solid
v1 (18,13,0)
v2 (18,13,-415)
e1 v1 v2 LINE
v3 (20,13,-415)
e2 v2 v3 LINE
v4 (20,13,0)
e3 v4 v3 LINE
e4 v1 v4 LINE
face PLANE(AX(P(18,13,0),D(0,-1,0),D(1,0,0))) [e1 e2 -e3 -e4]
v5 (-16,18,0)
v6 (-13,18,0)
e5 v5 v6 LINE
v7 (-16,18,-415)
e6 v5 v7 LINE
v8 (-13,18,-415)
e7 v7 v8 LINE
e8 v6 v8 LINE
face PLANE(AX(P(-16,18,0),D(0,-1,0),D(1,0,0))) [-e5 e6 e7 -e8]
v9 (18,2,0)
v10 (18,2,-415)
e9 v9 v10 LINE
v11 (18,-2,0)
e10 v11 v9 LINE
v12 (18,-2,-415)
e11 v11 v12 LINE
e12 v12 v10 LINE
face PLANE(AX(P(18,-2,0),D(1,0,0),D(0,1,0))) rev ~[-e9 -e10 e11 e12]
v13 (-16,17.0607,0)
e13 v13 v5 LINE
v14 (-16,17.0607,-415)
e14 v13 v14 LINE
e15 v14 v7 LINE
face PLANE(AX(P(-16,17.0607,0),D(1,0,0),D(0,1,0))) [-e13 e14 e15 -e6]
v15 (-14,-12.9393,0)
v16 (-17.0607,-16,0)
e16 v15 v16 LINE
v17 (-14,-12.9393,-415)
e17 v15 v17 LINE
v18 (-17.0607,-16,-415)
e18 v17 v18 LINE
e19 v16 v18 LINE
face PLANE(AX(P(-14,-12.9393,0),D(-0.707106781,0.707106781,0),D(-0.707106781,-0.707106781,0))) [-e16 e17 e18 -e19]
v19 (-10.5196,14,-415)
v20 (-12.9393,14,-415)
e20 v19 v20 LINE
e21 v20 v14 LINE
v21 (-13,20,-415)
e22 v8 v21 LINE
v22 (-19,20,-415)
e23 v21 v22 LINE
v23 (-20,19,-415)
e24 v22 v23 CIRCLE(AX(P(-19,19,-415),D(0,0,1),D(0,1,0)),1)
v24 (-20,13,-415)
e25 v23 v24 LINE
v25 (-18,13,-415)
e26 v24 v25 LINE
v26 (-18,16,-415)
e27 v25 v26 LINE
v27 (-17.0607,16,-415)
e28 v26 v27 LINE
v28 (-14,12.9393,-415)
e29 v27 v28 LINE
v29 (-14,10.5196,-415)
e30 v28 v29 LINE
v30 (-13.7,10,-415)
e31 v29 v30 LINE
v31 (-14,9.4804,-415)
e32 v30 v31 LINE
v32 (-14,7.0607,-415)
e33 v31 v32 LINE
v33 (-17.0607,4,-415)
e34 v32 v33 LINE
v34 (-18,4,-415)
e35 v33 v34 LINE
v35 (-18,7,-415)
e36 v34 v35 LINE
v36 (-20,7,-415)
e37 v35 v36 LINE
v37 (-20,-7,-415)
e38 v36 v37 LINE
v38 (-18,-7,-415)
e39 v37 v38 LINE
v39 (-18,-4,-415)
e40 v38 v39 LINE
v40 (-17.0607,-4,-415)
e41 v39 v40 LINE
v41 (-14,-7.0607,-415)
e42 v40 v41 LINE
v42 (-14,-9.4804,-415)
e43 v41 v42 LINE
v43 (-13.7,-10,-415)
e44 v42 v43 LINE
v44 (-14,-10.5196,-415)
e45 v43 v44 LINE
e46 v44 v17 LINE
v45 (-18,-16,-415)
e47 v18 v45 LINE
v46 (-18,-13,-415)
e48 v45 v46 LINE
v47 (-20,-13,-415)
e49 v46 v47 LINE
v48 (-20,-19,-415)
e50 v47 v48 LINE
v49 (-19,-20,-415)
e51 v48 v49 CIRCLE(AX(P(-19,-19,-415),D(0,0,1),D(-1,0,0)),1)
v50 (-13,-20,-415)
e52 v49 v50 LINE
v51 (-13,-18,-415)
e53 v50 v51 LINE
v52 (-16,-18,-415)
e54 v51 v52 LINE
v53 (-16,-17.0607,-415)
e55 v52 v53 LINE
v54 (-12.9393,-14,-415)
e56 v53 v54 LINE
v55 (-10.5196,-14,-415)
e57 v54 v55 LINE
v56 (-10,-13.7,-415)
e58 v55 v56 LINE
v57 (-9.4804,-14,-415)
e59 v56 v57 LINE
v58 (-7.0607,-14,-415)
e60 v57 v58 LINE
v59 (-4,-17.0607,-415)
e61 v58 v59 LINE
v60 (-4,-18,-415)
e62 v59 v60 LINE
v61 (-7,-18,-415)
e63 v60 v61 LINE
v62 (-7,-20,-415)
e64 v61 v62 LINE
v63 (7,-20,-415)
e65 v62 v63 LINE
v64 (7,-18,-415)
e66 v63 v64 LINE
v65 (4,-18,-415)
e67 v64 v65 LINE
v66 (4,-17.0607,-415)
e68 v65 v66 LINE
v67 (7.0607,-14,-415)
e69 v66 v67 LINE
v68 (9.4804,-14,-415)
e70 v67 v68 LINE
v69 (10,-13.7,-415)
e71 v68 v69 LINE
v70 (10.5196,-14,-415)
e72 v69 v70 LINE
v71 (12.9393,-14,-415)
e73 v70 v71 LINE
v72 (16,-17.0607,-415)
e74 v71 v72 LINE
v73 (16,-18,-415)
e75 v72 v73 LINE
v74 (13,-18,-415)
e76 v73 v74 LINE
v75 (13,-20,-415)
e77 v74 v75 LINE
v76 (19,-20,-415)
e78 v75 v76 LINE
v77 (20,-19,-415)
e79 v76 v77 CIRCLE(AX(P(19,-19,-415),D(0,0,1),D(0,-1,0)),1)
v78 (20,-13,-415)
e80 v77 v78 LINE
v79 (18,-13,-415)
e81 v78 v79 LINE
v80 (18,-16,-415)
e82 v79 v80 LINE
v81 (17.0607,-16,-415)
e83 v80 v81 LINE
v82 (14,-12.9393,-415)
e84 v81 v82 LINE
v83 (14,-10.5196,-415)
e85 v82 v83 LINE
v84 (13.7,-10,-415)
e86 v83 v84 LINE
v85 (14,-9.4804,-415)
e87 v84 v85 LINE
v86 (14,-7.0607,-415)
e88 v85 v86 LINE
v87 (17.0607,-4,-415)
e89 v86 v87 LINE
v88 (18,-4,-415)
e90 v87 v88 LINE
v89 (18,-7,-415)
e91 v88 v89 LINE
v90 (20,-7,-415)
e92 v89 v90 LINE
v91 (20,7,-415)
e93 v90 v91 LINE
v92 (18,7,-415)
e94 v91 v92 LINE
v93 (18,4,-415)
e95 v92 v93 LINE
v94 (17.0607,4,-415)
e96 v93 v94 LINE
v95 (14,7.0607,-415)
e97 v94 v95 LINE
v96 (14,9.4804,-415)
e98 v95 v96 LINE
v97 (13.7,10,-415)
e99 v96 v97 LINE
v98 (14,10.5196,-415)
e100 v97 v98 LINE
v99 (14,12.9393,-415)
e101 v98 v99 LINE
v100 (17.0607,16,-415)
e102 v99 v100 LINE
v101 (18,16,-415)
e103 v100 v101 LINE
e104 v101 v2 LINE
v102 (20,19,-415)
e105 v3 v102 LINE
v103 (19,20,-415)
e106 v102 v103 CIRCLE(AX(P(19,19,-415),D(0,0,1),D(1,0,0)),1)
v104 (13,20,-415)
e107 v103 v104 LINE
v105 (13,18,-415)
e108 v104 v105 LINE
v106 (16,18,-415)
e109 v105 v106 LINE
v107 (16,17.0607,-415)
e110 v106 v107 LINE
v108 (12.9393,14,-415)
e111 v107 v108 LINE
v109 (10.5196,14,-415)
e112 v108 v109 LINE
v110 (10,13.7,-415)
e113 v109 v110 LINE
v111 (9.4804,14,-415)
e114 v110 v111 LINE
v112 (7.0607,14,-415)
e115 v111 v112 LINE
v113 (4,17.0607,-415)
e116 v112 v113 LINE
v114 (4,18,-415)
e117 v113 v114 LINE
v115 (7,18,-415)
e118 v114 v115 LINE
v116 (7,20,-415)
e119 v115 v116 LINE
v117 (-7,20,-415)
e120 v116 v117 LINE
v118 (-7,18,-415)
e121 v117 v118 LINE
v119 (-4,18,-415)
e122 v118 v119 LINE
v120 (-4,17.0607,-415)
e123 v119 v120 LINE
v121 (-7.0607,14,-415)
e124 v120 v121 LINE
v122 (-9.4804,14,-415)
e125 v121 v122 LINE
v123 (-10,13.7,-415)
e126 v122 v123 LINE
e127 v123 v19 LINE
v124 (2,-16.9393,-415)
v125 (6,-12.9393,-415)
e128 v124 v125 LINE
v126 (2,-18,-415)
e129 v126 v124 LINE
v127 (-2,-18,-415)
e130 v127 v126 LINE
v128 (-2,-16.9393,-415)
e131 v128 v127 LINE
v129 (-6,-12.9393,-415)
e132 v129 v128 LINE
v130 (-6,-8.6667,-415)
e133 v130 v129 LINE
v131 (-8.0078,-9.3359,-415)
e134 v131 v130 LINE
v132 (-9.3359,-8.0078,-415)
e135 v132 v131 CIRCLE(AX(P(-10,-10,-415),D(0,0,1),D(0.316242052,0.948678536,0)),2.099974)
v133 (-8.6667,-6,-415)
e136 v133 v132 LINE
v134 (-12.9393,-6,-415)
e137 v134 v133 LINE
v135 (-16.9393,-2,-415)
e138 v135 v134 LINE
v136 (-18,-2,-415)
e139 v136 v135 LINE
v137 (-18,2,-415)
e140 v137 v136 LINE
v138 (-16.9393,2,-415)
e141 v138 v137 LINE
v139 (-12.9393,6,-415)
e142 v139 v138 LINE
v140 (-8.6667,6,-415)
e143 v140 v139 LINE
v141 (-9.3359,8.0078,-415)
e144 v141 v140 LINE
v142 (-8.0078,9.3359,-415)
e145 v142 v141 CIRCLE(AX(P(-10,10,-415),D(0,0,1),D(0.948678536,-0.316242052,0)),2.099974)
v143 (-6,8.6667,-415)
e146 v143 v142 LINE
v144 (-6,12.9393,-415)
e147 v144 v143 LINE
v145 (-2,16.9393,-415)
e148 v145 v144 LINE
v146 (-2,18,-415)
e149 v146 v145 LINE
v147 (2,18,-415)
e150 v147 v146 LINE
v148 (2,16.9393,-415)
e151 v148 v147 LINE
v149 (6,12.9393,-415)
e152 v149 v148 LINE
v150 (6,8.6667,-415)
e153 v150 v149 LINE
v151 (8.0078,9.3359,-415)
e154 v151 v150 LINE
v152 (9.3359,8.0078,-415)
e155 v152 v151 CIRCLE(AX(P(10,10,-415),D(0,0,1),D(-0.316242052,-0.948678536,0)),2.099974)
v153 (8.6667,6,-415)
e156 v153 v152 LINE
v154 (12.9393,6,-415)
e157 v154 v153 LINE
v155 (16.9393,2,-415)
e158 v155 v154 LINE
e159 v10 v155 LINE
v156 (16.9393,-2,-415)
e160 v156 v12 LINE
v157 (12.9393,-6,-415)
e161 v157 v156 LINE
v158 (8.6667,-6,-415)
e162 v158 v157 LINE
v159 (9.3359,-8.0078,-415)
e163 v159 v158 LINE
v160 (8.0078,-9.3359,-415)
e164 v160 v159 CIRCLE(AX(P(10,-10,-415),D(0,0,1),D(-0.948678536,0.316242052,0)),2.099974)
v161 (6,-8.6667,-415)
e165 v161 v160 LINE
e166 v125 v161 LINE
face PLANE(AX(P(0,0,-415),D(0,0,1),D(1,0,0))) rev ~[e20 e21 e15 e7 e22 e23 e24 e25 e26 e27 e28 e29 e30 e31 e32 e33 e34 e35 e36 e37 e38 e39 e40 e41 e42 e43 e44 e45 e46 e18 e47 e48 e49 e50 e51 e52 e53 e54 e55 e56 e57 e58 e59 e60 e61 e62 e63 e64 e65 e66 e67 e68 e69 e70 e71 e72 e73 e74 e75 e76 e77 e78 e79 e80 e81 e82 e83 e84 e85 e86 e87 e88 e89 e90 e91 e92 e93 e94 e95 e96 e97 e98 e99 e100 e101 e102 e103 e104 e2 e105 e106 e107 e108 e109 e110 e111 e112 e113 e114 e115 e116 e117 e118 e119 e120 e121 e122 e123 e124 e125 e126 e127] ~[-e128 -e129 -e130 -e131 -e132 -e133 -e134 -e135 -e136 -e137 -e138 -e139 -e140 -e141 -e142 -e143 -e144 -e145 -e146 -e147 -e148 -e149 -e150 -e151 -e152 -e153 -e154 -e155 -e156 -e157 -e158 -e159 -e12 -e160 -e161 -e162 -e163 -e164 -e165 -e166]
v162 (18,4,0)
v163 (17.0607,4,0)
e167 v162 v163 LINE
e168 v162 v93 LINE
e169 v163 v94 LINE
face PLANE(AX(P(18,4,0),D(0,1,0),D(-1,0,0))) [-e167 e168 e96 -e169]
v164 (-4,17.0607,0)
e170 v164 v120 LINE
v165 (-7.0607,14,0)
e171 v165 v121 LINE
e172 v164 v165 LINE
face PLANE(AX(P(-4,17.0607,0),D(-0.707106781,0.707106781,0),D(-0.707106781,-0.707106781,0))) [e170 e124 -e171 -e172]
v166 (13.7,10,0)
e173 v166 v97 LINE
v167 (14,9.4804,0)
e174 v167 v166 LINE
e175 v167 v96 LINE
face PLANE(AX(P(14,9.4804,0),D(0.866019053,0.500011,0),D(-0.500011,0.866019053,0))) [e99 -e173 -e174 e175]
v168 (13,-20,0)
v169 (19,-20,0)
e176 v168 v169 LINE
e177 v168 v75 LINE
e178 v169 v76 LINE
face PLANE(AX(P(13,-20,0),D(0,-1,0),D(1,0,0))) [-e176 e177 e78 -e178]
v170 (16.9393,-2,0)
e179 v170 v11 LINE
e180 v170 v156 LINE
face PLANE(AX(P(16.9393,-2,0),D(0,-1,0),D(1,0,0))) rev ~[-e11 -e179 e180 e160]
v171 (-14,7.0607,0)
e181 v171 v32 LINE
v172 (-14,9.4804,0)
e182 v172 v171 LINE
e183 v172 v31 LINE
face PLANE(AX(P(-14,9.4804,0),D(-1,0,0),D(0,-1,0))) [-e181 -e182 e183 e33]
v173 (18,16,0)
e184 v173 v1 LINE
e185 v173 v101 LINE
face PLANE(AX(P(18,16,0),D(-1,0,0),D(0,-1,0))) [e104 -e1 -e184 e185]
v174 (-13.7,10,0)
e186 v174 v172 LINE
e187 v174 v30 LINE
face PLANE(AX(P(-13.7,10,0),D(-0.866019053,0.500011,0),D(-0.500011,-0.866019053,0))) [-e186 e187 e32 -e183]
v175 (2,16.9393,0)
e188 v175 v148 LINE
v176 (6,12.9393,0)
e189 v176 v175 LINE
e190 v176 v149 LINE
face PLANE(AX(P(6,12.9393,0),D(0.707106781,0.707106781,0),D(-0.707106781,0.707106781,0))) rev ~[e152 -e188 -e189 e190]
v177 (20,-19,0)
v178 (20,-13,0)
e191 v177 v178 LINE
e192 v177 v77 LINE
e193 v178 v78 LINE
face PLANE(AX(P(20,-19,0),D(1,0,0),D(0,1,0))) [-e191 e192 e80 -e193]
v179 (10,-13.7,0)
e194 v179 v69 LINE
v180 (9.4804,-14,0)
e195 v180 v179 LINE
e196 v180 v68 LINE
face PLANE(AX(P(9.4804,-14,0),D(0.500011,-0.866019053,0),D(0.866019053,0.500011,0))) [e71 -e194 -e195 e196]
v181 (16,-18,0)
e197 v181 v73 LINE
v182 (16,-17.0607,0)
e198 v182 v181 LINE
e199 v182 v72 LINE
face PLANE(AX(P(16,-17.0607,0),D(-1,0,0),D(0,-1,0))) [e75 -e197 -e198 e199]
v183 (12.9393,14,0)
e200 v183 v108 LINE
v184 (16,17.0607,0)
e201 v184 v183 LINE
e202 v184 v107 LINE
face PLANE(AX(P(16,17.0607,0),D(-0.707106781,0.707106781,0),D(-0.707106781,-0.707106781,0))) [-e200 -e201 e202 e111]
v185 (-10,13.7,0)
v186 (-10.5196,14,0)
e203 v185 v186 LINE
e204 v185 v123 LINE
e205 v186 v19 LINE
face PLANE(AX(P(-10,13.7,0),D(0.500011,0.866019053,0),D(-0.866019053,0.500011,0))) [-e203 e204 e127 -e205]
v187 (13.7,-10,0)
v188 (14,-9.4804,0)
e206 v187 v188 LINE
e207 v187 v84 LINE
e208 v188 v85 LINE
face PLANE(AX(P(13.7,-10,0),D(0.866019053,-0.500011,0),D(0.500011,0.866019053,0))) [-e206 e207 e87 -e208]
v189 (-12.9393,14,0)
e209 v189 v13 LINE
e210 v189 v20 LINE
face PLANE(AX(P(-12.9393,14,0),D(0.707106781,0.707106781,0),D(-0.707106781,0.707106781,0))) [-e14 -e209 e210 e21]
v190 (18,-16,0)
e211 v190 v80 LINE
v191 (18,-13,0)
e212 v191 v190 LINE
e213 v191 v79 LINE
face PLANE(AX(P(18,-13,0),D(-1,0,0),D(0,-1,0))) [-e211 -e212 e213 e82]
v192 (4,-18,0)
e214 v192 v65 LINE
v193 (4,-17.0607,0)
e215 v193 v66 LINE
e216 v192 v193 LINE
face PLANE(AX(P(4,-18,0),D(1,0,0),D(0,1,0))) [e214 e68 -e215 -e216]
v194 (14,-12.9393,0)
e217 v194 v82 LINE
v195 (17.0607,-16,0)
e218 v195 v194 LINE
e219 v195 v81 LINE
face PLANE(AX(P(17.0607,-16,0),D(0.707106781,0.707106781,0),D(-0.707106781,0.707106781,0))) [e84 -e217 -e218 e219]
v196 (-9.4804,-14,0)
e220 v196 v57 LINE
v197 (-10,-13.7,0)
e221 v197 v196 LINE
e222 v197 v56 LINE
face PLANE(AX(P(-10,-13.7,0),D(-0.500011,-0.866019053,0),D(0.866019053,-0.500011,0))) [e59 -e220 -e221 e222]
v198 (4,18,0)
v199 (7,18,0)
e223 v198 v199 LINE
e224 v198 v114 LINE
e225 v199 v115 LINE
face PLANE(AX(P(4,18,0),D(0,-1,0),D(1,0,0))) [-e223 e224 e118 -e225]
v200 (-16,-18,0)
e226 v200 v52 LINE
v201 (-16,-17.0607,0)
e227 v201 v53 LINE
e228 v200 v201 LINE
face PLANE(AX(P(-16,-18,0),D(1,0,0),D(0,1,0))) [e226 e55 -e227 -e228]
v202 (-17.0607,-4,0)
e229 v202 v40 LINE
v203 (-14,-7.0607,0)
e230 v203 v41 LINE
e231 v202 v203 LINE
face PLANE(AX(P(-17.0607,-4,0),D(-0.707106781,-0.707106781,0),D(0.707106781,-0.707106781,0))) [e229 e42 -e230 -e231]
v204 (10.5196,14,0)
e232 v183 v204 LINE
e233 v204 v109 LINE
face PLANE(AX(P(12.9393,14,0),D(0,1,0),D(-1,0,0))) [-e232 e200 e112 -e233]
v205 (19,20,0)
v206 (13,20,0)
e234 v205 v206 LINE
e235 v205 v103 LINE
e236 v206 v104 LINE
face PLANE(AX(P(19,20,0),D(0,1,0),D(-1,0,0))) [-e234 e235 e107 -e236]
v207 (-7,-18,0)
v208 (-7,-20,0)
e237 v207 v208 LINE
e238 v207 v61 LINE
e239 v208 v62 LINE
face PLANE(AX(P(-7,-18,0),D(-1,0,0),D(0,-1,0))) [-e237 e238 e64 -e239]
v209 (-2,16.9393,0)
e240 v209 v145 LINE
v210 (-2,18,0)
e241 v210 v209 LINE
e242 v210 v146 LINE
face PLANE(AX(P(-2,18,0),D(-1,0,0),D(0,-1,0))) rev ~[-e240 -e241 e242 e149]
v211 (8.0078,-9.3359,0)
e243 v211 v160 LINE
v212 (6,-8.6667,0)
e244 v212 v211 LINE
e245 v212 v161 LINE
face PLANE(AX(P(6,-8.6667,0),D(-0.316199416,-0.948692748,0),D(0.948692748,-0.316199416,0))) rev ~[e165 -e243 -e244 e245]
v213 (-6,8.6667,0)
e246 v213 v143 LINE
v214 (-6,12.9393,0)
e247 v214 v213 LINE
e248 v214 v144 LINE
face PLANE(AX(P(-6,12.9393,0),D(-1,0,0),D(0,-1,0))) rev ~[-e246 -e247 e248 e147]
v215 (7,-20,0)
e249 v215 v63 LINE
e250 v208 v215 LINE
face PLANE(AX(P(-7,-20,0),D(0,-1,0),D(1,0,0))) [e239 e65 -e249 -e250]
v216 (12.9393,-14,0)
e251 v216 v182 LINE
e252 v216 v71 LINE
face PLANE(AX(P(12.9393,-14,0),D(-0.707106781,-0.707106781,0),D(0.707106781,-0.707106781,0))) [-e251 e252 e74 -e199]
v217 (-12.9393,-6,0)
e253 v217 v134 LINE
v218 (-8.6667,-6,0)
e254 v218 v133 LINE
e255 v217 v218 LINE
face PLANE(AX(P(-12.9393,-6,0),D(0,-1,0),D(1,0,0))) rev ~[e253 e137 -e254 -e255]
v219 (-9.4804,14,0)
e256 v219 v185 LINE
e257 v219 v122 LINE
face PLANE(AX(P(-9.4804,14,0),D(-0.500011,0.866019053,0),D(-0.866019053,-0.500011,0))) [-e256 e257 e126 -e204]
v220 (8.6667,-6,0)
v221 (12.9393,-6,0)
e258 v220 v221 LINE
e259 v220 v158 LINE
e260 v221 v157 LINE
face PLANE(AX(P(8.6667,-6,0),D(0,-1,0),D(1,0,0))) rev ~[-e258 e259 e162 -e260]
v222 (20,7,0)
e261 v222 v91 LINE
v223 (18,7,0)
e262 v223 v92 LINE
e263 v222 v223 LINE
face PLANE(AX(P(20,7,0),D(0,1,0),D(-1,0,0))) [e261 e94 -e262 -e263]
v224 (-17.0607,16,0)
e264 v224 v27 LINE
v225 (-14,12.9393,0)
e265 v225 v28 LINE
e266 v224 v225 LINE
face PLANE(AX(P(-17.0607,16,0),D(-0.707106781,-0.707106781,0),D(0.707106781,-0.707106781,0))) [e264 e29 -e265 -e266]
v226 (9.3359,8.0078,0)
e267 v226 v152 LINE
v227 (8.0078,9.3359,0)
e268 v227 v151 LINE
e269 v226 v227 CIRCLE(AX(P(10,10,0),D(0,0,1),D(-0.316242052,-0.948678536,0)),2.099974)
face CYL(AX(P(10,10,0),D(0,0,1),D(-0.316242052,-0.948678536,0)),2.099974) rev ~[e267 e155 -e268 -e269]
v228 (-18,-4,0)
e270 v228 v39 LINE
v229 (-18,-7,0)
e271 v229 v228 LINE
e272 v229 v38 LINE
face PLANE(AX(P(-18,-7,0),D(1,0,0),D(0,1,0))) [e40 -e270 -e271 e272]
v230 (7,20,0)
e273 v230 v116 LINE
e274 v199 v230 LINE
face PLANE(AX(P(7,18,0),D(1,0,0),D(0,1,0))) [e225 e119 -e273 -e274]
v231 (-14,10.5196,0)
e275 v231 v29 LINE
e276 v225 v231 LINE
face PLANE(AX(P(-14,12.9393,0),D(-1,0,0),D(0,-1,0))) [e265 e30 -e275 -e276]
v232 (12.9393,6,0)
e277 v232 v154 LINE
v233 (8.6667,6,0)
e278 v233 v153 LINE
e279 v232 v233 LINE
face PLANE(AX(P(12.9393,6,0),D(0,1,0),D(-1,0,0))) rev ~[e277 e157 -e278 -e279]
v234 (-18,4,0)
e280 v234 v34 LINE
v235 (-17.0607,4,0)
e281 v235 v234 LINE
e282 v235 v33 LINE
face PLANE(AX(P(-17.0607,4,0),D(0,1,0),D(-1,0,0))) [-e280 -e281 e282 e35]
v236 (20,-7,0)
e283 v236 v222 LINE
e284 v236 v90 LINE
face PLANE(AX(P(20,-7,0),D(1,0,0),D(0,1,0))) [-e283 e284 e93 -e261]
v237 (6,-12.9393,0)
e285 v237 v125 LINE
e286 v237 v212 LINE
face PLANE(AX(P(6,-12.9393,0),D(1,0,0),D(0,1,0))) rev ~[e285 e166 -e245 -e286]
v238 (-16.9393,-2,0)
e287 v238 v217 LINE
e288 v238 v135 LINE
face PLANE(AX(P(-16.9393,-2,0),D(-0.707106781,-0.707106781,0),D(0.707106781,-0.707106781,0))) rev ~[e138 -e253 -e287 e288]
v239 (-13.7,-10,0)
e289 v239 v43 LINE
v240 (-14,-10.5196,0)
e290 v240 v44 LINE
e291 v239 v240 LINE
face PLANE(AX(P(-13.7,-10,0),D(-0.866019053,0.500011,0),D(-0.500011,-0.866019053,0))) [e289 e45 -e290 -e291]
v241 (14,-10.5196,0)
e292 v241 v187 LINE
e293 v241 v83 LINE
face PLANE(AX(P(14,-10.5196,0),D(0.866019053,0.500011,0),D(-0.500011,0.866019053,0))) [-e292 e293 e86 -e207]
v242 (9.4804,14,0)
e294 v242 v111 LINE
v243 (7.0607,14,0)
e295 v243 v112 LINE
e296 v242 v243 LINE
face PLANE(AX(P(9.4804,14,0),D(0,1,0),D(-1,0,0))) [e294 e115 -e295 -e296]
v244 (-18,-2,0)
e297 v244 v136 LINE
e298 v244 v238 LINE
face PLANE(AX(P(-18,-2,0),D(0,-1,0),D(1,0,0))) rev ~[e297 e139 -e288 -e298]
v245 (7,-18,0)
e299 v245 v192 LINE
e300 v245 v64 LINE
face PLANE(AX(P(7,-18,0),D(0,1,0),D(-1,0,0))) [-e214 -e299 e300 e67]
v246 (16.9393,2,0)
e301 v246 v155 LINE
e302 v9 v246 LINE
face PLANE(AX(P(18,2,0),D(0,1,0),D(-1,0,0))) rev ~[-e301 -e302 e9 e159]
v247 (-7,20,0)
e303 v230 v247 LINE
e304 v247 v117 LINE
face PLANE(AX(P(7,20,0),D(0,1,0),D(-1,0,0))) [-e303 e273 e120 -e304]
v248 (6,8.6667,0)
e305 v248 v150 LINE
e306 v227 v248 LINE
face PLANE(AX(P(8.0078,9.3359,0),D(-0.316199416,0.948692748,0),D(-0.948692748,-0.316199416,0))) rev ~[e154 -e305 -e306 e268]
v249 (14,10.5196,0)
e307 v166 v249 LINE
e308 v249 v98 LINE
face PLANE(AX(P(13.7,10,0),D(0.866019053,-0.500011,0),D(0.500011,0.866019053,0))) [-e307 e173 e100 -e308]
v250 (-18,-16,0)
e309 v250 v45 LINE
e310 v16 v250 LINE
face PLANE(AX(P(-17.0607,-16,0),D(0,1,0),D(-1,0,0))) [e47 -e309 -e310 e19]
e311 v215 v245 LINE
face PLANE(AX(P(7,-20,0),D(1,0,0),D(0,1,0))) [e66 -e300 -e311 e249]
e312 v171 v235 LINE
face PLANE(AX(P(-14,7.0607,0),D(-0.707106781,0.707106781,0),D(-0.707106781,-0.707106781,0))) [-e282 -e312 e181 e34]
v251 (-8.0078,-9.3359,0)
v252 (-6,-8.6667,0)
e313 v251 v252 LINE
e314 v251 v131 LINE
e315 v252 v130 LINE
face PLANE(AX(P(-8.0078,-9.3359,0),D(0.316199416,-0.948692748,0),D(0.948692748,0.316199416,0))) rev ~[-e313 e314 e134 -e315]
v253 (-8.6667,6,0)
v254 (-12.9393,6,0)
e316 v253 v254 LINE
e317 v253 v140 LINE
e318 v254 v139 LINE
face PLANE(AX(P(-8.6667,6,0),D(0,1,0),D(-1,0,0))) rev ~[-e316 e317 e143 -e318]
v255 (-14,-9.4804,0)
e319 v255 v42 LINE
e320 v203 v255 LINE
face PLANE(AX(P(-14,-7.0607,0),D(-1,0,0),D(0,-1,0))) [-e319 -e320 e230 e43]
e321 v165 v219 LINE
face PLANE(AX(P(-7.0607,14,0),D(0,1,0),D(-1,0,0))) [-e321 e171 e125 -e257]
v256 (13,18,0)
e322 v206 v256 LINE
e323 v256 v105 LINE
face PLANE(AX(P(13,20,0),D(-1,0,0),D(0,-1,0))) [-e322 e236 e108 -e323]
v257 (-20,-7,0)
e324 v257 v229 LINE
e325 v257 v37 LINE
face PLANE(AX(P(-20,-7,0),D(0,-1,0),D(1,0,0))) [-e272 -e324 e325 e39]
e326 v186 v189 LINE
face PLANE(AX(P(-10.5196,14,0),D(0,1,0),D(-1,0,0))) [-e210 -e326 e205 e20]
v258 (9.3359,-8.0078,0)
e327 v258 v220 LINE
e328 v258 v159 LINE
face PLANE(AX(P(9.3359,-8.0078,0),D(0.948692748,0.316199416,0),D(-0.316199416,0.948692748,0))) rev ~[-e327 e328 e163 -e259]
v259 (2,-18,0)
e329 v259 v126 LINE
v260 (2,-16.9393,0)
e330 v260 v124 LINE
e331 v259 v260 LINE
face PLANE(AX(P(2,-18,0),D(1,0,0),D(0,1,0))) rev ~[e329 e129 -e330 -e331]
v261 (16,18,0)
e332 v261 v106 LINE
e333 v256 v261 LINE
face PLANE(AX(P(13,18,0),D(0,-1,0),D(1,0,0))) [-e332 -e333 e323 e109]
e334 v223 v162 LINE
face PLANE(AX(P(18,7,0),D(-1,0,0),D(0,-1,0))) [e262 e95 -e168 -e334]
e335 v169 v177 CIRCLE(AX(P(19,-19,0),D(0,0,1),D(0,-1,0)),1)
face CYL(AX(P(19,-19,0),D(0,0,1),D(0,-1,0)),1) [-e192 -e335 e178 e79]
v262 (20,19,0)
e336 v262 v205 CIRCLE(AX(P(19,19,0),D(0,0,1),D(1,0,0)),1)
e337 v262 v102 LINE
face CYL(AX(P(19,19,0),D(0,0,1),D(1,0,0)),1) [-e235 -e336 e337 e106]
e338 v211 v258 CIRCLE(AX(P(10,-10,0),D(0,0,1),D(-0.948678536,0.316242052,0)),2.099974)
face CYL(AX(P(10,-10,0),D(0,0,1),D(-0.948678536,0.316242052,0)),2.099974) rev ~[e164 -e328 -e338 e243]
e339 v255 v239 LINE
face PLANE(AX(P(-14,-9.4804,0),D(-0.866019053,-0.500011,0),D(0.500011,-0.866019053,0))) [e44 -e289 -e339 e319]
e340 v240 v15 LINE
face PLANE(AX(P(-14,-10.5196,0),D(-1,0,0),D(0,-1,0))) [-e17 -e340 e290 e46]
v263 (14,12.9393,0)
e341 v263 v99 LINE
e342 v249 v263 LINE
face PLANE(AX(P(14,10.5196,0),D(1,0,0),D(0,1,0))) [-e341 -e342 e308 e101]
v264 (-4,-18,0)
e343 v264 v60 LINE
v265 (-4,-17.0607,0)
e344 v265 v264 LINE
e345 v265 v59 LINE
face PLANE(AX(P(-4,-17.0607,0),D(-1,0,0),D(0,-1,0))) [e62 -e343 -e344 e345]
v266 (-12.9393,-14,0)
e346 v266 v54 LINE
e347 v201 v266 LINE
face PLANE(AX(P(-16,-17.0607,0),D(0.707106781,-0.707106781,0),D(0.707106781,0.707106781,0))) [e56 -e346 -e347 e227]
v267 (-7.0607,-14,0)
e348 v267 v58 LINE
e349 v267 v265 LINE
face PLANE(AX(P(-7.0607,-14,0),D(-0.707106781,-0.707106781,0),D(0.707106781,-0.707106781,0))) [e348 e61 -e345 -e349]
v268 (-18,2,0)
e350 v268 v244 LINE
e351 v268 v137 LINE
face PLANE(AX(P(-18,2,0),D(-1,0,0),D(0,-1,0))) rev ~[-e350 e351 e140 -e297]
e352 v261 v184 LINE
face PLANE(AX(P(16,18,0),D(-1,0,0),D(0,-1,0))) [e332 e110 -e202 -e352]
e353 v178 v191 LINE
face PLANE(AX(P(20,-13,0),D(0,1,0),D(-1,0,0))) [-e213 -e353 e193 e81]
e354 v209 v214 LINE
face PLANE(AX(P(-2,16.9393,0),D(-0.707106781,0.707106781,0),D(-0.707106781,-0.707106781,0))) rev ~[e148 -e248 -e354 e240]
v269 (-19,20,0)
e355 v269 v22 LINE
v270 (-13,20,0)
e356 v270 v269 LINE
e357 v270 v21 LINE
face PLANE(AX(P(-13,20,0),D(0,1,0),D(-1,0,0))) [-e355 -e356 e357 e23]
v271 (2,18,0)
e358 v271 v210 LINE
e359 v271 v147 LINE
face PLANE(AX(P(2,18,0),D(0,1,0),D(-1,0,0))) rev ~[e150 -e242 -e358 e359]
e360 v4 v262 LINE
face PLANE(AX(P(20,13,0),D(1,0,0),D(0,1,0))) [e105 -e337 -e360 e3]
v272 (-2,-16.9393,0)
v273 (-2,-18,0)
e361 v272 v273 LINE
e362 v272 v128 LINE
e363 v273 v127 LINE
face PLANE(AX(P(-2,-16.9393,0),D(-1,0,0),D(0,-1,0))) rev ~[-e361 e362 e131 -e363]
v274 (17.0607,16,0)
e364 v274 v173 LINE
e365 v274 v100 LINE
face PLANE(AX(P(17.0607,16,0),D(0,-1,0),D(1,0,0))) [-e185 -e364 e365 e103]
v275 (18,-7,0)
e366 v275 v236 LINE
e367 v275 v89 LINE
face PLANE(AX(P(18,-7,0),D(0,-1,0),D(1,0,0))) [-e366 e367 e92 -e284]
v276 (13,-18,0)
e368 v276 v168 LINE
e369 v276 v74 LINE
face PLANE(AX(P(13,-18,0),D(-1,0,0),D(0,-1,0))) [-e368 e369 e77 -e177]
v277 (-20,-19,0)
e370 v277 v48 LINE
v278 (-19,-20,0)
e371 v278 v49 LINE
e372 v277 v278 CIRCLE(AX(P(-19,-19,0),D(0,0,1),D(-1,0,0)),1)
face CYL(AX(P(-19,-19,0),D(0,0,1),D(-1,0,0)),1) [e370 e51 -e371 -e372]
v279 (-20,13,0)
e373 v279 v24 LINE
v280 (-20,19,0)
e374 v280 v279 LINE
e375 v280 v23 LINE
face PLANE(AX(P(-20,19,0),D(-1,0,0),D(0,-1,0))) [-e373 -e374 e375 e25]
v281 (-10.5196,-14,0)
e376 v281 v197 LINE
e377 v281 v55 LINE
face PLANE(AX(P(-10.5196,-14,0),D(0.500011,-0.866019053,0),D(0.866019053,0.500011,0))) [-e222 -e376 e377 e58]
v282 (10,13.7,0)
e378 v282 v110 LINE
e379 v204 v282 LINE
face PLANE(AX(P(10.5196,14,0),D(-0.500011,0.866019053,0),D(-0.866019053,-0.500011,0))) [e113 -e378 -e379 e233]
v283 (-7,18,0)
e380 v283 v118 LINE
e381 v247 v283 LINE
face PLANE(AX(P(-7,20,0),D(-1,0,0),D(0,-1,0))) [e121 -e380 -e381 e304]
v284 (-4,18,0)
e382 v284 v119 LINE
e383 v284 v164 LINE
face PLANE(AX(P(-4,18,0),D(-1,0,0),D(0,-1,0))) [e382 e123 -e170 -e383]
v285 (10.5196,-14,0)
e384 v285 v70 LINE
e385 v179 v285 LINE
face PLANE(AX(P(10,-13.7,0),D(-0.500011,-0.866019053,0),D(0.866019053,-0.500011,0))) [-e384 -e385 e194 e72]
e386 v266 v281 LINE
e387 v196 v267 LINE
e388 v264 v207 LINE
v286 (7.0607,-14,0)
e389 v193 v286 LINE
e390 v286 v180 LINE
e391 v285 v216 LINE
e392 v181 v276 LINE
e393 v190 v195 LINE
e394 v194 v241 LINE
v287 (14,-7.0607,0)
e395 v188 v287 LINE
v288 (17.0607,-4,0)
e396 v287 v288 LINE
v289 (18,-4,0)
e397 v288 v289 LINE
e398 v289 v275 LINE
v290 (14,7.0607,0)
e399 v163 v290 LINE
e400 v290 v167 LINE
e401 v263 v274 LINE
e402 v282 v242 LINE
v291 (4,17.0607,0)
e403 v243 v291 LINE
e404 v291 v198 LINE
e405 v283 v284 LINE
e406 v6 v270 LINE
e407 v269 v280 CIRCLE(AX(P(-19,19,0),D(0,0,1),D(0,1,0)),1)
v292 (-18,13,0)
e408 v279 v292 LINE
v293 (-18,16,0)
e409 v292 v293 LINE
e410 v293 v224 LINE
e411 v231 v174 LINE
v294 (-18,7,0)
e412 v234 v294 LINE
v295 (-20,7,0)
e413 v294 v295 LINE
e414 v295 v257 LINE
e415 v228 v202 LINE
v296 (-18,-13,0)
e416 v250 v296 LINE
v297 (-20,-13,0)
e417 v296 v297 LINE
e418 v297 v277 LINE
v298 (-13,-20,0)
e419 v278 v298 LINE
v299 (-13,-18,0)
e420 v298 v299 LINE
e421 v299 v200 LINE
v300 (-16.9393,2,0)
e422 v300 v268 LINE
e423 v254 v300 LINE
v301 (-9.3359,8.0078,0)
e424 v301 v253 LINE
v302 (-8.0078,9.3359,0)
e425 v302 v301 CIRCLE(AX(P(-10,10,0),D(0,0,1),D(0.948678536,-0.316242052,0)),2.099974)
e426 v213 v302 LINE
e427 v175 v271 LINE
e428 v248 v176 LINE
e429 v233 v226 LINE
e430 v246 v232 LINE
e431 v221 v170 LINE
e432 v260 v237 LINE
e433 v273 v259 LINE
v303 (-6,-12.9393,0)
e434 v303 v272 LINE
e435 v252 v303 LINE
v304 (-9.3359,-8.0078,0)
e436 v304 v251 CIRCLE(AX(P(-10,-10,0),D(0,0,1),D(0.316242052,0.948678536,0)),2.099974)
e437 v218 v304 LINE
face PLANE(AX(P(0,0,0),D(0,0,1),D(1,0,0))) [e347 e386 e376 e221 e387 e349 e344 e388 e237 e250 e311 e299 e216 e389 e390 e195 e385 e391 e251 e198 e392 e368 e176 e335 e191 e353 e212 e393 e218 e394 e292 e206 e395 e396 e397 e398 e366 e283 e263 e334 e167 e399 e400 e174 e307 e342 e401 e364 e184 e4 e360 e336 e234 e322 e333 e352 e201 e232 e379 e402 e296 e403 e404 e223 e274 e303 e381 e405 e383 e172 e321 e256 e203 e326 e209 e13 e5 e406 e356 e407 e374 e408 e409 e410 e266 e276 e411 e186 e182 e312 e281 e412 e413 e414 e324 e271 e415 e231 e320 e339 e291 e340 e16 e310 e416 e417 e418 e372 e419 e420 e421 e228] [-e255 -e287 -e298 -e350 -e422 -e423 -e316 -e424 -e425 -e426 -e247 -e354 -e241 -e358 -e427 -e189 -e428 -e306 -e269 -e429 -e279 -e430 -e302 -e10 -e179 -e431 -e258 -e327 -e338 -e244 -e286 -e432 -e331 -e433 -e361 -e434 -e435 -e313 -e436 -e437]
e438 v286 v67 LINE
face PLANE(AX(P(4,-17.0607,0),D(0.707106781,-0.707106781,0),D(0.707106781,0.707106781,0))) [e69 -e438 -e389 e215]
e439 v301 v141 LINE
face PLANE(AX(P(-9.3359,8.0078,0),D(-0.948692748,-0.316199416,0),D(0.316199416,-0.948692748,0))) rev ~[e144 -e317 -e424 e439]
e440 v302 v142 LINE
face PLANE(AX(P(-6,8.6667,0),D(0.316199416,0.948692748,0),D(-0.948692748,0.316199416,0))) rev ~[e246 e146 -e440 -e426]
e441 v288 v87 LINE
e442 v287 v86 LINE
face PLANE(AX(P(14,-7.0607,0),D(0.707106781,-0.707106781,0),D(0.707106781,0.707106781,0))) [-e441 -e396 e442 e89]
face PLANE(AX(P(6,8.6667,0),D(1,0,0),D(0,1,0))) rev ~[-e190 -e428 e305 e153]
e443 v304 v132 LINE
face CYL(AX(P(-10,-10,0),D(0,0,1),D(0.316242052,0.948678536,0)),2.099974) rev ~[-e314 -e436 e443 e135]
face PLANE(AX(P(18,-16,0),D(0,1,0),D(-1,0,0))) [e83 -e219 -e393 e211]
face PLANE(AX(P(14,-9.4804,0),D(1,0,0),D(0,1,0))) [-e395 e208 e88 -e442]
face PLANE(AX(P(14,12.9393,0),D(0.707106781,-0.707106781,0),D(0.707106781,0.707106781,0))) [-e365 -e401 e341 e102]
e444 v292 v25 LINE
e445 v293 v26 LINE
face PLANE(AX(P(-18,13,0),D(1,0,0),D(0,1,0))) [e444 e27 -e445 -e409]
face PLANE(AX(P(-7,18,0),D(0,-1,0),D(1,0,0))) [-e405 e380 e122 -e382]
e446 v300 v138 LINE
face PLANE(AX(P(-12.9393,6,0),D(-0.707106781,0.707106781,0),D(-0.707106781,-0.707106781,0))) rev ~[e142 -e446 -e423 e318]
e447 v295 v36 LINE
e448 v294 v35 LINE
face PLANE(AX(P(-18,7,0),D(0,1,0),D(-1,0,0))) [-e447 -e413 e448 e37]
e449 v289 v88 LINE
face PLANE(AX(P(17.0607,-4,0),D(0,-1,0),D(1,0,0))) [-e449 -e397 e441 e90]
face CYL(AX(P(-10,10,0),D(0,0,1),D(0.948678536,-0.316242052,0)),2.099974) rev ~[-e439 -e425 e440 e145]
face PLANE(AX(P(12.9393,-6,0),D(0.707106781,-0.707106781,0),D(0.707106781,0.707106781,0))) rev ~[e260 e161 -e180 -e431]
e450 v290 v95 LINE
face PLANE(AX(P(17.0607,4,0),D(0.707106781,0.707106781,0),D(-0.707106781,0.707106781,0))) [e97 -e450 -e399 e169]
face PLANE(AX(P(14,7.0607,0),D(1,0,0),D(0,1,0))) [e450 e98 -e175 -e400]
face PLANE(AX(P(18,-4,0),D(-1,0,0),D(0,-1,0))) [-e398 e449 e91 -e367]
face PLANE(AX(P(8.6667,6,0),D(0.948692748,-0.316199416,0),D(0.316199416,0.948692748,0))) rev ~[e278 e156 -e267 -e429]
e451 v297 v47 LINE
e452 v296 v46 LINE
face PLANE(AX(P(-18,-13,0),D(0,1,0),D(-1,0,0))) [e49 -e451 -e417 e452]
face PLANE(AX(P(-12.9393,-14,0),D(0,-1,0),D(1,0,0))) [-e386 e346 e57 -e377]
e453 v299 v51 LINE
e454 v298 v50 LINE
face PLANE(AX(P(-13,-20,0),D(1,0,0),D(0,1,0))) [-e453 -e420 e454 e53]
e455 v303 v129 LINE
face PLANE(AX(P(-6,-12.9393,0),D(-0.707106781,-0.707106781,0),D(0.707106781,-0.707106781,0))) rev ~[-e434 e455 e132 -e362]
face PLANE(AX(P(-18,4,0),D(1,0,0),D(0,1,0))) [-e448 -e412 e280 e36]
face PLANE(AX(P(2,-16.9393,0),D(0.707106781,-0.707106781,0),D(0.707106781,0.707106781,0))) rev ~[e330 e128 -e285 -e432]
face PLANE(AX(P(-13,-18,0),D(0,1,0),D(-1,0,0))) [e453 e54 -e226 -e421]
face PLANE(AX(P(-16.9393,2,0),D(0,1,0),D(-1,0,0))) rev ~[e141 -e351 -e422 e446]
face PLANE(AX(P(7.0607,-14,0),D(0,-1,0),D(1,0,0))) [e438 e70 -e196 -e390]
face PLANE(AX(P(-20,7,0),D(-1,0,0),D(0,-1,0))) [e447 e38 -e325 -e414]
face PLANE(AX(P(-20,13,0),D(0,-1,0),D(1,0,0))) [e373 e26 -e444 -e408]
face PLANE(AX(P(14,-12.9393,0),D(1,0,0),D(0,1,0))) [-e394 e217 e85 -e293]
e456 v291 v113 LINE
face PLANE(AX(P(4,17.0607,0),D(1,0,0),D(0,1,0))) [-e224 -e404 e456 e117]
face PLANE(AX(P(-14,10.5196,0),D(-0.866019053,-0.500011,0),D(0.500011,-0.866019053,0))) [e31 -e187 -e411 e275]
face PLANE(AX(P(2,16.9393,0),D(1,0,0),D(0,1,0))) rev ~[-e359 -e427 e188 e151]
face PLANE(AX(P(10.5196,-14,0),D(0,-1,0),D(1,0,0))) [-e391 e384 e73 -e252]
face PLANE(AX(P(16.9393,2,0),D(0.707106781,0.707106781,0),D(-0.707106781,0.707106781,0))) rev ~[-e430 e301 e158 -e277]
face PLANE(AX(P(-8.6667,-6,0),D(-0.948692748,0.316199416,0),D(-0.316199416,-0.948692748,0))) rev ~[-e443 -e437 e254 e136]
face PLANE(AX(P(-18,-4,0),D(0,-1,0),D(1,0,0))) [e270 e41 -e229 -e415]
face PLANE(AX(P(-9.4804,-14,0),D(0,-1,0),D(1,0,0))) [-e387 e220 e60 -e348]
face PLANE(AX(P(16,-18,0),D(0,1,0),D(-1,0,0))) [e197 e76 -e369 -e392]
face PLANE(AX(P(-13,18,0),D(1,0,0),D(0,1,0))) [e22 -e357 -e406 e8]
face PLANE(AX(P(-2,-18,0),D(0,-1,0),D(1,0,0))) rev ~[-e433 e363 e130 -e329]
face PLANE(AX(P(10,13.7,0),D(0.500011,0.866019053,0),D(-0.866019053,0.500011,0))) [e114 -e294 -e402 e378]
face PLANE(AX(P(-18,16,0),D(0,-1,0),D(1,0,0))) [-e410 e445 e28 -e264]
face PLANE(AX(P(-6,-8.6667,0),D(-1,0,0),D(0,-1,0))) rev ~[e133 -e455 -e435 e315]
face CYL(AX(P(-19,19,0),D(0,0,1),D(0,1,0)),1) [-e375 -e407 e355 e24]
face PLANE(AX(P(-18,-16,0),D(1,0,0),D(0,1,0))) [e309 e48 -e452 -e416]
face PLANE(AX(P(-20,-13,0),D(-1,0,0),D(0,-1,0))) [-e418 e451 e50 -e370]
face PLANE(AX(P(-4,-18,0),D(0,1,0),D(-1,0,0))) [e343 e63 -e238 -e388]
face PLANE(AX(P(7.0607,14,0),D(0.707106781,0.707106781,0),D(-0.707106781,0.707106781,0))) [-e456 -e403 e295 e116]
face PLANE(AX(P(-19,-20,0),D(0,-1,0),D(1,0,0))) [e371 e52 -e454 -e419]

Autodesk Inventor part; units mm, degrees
sketch "Sketch_1" plane through (0, 0, 0) normal (0, 0, 1) x (1, 0, 0)
  line L0 (-20, -7) -> (-18, -7)
  line L1 (-18, -7) -> (-18, -4)
  line L2 (-18, -4) -> (-17.0607, -4)
  line L3 (-17.0607, -4) -> (-14, -7.0607)
  line L4 (-14, -7.0607) -> (-14, -9.4804)
  line L5 (-14, -9.4804) -> (-13.7, -10)
  line L6 (-13.7, -10) -> (-14, -10.5196)
  line L7 (-14, -10.5196) -> (-14, -12.9393)
  line L8 (-14, -12.9393) -> (-17.0607, -16)
  line L9 (-17.0607, -16) -> (-18, -16)
  line L10 (-18, -16) -> (-18, -13)
  line L11 (-18, -13) -> (-20, -13)
  line L12 (-20, -13) -> (-20, -19)
  arc A0 (-20, -19) -> (-19, -20) centre (-19, -19) ccw
  line L13 (-19, -20) -> (-13, -20)
  line L14 (-13, -20) -> (-13, -18)
  line L15 (-13, -18) -> (-16, -18)
  line L16 (-16, -18) -> (-16, -17.0607)
  line L17 (-16, -17.0607) -> (-12.9393, -14)
  line L18 (-12.9393, -14) -> (-10.5196, -14)
  line L19 (-10.5196, -14) -> (-10, -13.7)
  line L20 (-10, -13.7) -> (-9.4804, -14)
  line L21 (-9.4804, -14) -> (-7.0607, -14)
  line L22 (-7.0607, -14) -> (-4, -17.0607)
  line L23 (-4, -17.0607) -> (-4, -18)
  line L24 (-4, -18) -> (-7, -18)
  line L25 (-7, -18) -> (-7, -20)
  line L26 (-7, -20) -> (7, -20)
  line L27 (7, -20) -> (7, -18)
  line L28 (7, -18) -> (4, -18)
  line L29 (4, -18) -> (4, -17.0607)
  line L30 (4, -17.0607) -> (7.0607, -14)
  line L31 (7.0607, -14) -> (9.4804, -14)
  line L32 (9.4804, -14) -> (10, -13.7)
  line L33 (10, -13.7) -> (10.5196, -14)
  line L34 (10.5196, -14) -> (12.9393, -14)
  line L35 (12.9393, -14) -> (16, -17.0607)
  line L36 (16, -17.0607) -> (16, -18)
  line L37 (16, -18) -> (13, -18)
  line L38 (13, -18) -> (13, -20)
  line L39 (13, -20) -> (19, -20)
  arc A1 (19, -20) -> (20, -19) centre (19, -19) ccw
  line L40 (20, -19) -> (20, -13)
  line L41 (20, -13) -> (18, -13)
  line L42 (18, -13) -> (18, -16)
  line L43 (18, -16) -> (17.0607, -16)
  line L44 (17.0607, -16) -> (14, -12.9393)
  line L45 (14, -12.9393) -> (14, -10.5196)
  line L46 (14, -10.5196) -> (13.7, -10)
  line L47 (13.7, -10) -> (14, -9.4804)
  line L48 (14, -9.4804) -> (14, -7.0607)
  line L49 (14, -7.0607) -> (17.0607, -4)
  line L50 (17.0607, -4) -> (18, -4)
  line L51 (18, -4) -> (18, -7)
  line L52 (18, -7) -> (20, -7)
  line L53 (20, -7) -> (20, 7)
  line L54 (20, 7) -> (18, 7)
  line L55 (18, 7) -> (18, 4)
  line L56 (18, 4) -> (17.0607, 4)
  line L57 (17.0607, 4) -> (14, 7.0607)
  line L58 (14, 7.0607) -> (14, 9.4804)
  line L59 (14, 9.4804) -> (13.7, 10)
  line L60 (13.7, 10) -> (14, 10.5196)
  line L61 (14, 10.5196) -> (14, 12.9393)
  line L62 (14, 12.9393) -> (17.0607, 16)
  line L63 (17.0607, 16) -> (18, 16)
  line L64 (18, 16) -> (18, 13)
  line L65 (18, 13) -> (20, 13)
  line L66 (20, 13) -> (20, 19)
  arc A2 (20, 19) -> (19, 20) centre (19, 19) ccw
  line L67 (19, 20) -> (13, 20)
  line L68 (13, 20) -> (13, 18)
  line L69 (13, 18) -> (16, 18)
  line L70 (16, 18) -> (16, 17.0607)
  line L71 (16, 17.0607) -> (12.9393, 14)
  line L72 (12.9393, 14) -> (10.5196, 14)
  line L73 (10.5196, 14) -> (10, 13.7)
  line L74 (10, 13.7) -> (9.4804, 14)
  line L75 (9.4804, 14) -> (7.0607, 14)
  line L76 (7.0607, 14) -> (4, 17.0607)
  line L77 (4, 17.0607) -> (4, 18)
  line L78 (4, 18) -> (7, 18)
  line L79 (7, 18) -> (7, 20)
  line L80 (7, 20) -> (-7, 20)
  line L81 (-7, 20) -> (-7, 18)
  line L82 (-7, 18) -> (-4, 18)
  line L83 (-4, 18) -> (-4, 17.0607)
  line L84 (-4, 17.0607) -> (-7.0607, 14)
  line L85 (-7.0607, 14) -> (-9.4804, 14)
  line L86 (-9.4804, 14) -> (-10, 13.7)
  line L87 (-10, 13.7) -> (-10.5196, 14)
  line L88 (-10.5196, 14) -> (-12.9393, 14)
  line L89 (-12.9393, 14) -> (-16, 17.0607)
  line L90 (-16, 17.0607) -> (-16, 18)
  line L91 (-16, 18) -> (-13, 18)
  line L92 (-13, 18) -> (-13, 20)
  line L93 (-13, 20) -> (-19, 20)
  arc A3 (-19, 20) -> (-20, 19) centre (-19, 19) ccw
  line L94 (-20, 19) -> (-20, 13)
  line L95 (-20, 13) -> (-18, 13)
  line L96 (-18, 13) -> (-18, 16)
  line L97 (-18, 16) -> (-17.0607, 16)
  line L98 (-17.0607, 16) -> (-14, 12.9393)
  line L99 (-14, 12.9393) -> (-14, 10.5196)
  line L100 (-14, 10.5196) -> (-13.7, 10)
  line L101 (-13.7, 10) -> (-14, 9.4804)
  line L102 (-14, 9.4804) -> (-14, 7.0607)
  line L103 (-14, 7.0607) -> (-17.0607, 4)
  line L104 (-17.0607, 4) -> (-18, 4)
  line L105 (-18, 4) -> (-18, 7)
  line L106 (-18, 7) -> (-20, 7)
  line L107 (-20, 7) -> (-20, -7)
extrude "Extrusion1" add sketch "Sketch_1" against normal blind 415
sketch "Sketch_130" plane through (0, 0, 0) normal (0, 0, 1) x (1, 0, 0)
  line L0 (-18, 2) -> (-18, -2)
  line L1 (-18, -2) -> (-16.9393, -2)
  line L2 (-16.9393, -2) -> (-12.9393, -6)
  line L3 (-12.9393, -6) -> (-8.6667, -6)
  line L4 (-8.6667, -6) -> (-9.3359, -8.0078)
  arc A0 (-9.3359, -8.0078) -> (-8.0078, -9.3359) centre (-10, -10) ccw
  line L5 (-8.0078, -9.3359) -> (-6, -8.6667)
  line L6 (-6, -8.6667) -> (-6, -12.9393)
  line L7 (-6, -12.9393) -> (-2, -16.9393)
  line L8 (-2, -16.9393) -> (-2, -18)
  line L9 (-2, -18) -> (2, -18)
  line L10 (2, -18) -> (2, -16.9393)
  line L11 (2, -16.9393) -> (6, -12.9393)
  line L12 (6, -12.9393) -> (6, -8.6667)
  line L13 (6, -8.6667) -> (8.0078, -9.3359)
  arc A1 (8.0078, -9.3359) -> (9.3359, -8.0078) centre (10, -10) ccw
  line L14 (9.3359, -8.0078) -> (8.6667, -6)
  line L15 (8.6667, -6) -> (12.9393, -6)
  line L16 (12.9393, -6) -> (16.9393, -2)
  line L17 (16.9393, -2) -> (18, -2)
  line L18 (18, -2) -> (18, 2)
  line L19 (18, 2) -> (16.9393, 2)
  line L20 (16.9393, 2) -> (12.9393, 6)
  line L21 (12.9393, 6) -> (8.6667, 6)
  line L22 (8.6667, 6) -> (9.3359, 8.0078)
  arc A2 (9.3359, 8.0078) -> (8.0078, 9.3359) centre (10, 10) ccw
  line L23 (8.0078, 9.3359) -> (6, 8.6667)
  line L24 (6, 8.6667) -> (6, 12.9393)
  line L25 (6, 12.9393) -> (2, 16.9393)
  line L26 (2, 16.9393) -> (2, 18)
  line L27 (2, 18) -> (-2, 18)
  line L28 (-2, 18) -> (-2, 16.9393)
  line L29 (-2, 16.9393) -> (-6, 12.9393)
  line L30 (-6, 12.9393) -> (-6, 8.6667)
  line L31 (-6, 8.6667) -> (-8.0078, 9.3359)
  arc A3 (-8.0078, 9.3359) -> (-9.3359, 8.0078) centre (-10, 10) ccw
  line L32 (-9.3359, 8.0078) -> (-8.6667, 6)
  line L33 (-8.6667, 6) -> (-12.9393, 6)
  line L34 (-12.9393, 6) -> (-16.9393, 2)
  line L35 (-16.9393, 2) -> (-18, 2)
extrude "Extrusion2" cut sketch "Sketch_130" against normal blind 415
ref_plane "C1_XY" through (0, 0, 0) normal (0, 0, 1) x (1, 0, 0)
ref_plane "C1_YZ" through (0, 0, 0) normal (1, 0, 0) x (0, 1, 0)
ref_plane "C1_ZX" through (0, 0, 0) normal (0, 1, 0) x (0, 0, 1)
ref_plane "to_frame_cap1_XY" through (0, 0, 0) normal (0, 0, 1) x (1, 0, 0)
ref_plane "to_frame_cap1_YZ" through (0, 0, 0) normal (1, 0, 0) x (0, 1, 0)
ref_plane "to_frame_cap1_ZX" through (0, 0, 0) normal (0, 1, 0) x (0, 0, 1)
ref_plane "to_frame_cap2_XY" through (0, 0, -415) normal (0, 0, -1) x (1, 0, 0)
ref_plane "to_frame_cap2_YZ" through (0, 0, -415) normal (1, 0, 0) x (0, -1, 0)
ref_plane "to_frame_cap2_ZX" through (0, 0, -415) normal (0, -1, 0) x (0, 0, -1)
thread "Thread1" size "M5x0.8" class "6H" standard "ANSI Metric M Profile" length 10
thread "Thread2" size "M5x0.8" class "6H" standard "ANSI Metric M Profile" length 10
thread "Thread3" size "M5x0.8" class "6H" standard "ANSI Metric M Profile" length 10
thread "Thread4" size "M5x0.8" class "6H" standard "ANSI Metric M Profile" length 10
thread "Thread5" size "M5x0.8" class "6H" standard "ANSI Metric M Profile" length 10
thread "Thread6" size "M5x0.8" class "6H" standard "ANSI Metric M Profile" length 10
thread "Thread7" size "M5x0.8" class "6H" standard "ANSI Metric M Profile" length 10
thread "Thread8" size "M5x0.8" class "6H" standard "ANSI Metric M Profile" length 10
properties part number "Front Base Beam" material "Aluminum 6061"
